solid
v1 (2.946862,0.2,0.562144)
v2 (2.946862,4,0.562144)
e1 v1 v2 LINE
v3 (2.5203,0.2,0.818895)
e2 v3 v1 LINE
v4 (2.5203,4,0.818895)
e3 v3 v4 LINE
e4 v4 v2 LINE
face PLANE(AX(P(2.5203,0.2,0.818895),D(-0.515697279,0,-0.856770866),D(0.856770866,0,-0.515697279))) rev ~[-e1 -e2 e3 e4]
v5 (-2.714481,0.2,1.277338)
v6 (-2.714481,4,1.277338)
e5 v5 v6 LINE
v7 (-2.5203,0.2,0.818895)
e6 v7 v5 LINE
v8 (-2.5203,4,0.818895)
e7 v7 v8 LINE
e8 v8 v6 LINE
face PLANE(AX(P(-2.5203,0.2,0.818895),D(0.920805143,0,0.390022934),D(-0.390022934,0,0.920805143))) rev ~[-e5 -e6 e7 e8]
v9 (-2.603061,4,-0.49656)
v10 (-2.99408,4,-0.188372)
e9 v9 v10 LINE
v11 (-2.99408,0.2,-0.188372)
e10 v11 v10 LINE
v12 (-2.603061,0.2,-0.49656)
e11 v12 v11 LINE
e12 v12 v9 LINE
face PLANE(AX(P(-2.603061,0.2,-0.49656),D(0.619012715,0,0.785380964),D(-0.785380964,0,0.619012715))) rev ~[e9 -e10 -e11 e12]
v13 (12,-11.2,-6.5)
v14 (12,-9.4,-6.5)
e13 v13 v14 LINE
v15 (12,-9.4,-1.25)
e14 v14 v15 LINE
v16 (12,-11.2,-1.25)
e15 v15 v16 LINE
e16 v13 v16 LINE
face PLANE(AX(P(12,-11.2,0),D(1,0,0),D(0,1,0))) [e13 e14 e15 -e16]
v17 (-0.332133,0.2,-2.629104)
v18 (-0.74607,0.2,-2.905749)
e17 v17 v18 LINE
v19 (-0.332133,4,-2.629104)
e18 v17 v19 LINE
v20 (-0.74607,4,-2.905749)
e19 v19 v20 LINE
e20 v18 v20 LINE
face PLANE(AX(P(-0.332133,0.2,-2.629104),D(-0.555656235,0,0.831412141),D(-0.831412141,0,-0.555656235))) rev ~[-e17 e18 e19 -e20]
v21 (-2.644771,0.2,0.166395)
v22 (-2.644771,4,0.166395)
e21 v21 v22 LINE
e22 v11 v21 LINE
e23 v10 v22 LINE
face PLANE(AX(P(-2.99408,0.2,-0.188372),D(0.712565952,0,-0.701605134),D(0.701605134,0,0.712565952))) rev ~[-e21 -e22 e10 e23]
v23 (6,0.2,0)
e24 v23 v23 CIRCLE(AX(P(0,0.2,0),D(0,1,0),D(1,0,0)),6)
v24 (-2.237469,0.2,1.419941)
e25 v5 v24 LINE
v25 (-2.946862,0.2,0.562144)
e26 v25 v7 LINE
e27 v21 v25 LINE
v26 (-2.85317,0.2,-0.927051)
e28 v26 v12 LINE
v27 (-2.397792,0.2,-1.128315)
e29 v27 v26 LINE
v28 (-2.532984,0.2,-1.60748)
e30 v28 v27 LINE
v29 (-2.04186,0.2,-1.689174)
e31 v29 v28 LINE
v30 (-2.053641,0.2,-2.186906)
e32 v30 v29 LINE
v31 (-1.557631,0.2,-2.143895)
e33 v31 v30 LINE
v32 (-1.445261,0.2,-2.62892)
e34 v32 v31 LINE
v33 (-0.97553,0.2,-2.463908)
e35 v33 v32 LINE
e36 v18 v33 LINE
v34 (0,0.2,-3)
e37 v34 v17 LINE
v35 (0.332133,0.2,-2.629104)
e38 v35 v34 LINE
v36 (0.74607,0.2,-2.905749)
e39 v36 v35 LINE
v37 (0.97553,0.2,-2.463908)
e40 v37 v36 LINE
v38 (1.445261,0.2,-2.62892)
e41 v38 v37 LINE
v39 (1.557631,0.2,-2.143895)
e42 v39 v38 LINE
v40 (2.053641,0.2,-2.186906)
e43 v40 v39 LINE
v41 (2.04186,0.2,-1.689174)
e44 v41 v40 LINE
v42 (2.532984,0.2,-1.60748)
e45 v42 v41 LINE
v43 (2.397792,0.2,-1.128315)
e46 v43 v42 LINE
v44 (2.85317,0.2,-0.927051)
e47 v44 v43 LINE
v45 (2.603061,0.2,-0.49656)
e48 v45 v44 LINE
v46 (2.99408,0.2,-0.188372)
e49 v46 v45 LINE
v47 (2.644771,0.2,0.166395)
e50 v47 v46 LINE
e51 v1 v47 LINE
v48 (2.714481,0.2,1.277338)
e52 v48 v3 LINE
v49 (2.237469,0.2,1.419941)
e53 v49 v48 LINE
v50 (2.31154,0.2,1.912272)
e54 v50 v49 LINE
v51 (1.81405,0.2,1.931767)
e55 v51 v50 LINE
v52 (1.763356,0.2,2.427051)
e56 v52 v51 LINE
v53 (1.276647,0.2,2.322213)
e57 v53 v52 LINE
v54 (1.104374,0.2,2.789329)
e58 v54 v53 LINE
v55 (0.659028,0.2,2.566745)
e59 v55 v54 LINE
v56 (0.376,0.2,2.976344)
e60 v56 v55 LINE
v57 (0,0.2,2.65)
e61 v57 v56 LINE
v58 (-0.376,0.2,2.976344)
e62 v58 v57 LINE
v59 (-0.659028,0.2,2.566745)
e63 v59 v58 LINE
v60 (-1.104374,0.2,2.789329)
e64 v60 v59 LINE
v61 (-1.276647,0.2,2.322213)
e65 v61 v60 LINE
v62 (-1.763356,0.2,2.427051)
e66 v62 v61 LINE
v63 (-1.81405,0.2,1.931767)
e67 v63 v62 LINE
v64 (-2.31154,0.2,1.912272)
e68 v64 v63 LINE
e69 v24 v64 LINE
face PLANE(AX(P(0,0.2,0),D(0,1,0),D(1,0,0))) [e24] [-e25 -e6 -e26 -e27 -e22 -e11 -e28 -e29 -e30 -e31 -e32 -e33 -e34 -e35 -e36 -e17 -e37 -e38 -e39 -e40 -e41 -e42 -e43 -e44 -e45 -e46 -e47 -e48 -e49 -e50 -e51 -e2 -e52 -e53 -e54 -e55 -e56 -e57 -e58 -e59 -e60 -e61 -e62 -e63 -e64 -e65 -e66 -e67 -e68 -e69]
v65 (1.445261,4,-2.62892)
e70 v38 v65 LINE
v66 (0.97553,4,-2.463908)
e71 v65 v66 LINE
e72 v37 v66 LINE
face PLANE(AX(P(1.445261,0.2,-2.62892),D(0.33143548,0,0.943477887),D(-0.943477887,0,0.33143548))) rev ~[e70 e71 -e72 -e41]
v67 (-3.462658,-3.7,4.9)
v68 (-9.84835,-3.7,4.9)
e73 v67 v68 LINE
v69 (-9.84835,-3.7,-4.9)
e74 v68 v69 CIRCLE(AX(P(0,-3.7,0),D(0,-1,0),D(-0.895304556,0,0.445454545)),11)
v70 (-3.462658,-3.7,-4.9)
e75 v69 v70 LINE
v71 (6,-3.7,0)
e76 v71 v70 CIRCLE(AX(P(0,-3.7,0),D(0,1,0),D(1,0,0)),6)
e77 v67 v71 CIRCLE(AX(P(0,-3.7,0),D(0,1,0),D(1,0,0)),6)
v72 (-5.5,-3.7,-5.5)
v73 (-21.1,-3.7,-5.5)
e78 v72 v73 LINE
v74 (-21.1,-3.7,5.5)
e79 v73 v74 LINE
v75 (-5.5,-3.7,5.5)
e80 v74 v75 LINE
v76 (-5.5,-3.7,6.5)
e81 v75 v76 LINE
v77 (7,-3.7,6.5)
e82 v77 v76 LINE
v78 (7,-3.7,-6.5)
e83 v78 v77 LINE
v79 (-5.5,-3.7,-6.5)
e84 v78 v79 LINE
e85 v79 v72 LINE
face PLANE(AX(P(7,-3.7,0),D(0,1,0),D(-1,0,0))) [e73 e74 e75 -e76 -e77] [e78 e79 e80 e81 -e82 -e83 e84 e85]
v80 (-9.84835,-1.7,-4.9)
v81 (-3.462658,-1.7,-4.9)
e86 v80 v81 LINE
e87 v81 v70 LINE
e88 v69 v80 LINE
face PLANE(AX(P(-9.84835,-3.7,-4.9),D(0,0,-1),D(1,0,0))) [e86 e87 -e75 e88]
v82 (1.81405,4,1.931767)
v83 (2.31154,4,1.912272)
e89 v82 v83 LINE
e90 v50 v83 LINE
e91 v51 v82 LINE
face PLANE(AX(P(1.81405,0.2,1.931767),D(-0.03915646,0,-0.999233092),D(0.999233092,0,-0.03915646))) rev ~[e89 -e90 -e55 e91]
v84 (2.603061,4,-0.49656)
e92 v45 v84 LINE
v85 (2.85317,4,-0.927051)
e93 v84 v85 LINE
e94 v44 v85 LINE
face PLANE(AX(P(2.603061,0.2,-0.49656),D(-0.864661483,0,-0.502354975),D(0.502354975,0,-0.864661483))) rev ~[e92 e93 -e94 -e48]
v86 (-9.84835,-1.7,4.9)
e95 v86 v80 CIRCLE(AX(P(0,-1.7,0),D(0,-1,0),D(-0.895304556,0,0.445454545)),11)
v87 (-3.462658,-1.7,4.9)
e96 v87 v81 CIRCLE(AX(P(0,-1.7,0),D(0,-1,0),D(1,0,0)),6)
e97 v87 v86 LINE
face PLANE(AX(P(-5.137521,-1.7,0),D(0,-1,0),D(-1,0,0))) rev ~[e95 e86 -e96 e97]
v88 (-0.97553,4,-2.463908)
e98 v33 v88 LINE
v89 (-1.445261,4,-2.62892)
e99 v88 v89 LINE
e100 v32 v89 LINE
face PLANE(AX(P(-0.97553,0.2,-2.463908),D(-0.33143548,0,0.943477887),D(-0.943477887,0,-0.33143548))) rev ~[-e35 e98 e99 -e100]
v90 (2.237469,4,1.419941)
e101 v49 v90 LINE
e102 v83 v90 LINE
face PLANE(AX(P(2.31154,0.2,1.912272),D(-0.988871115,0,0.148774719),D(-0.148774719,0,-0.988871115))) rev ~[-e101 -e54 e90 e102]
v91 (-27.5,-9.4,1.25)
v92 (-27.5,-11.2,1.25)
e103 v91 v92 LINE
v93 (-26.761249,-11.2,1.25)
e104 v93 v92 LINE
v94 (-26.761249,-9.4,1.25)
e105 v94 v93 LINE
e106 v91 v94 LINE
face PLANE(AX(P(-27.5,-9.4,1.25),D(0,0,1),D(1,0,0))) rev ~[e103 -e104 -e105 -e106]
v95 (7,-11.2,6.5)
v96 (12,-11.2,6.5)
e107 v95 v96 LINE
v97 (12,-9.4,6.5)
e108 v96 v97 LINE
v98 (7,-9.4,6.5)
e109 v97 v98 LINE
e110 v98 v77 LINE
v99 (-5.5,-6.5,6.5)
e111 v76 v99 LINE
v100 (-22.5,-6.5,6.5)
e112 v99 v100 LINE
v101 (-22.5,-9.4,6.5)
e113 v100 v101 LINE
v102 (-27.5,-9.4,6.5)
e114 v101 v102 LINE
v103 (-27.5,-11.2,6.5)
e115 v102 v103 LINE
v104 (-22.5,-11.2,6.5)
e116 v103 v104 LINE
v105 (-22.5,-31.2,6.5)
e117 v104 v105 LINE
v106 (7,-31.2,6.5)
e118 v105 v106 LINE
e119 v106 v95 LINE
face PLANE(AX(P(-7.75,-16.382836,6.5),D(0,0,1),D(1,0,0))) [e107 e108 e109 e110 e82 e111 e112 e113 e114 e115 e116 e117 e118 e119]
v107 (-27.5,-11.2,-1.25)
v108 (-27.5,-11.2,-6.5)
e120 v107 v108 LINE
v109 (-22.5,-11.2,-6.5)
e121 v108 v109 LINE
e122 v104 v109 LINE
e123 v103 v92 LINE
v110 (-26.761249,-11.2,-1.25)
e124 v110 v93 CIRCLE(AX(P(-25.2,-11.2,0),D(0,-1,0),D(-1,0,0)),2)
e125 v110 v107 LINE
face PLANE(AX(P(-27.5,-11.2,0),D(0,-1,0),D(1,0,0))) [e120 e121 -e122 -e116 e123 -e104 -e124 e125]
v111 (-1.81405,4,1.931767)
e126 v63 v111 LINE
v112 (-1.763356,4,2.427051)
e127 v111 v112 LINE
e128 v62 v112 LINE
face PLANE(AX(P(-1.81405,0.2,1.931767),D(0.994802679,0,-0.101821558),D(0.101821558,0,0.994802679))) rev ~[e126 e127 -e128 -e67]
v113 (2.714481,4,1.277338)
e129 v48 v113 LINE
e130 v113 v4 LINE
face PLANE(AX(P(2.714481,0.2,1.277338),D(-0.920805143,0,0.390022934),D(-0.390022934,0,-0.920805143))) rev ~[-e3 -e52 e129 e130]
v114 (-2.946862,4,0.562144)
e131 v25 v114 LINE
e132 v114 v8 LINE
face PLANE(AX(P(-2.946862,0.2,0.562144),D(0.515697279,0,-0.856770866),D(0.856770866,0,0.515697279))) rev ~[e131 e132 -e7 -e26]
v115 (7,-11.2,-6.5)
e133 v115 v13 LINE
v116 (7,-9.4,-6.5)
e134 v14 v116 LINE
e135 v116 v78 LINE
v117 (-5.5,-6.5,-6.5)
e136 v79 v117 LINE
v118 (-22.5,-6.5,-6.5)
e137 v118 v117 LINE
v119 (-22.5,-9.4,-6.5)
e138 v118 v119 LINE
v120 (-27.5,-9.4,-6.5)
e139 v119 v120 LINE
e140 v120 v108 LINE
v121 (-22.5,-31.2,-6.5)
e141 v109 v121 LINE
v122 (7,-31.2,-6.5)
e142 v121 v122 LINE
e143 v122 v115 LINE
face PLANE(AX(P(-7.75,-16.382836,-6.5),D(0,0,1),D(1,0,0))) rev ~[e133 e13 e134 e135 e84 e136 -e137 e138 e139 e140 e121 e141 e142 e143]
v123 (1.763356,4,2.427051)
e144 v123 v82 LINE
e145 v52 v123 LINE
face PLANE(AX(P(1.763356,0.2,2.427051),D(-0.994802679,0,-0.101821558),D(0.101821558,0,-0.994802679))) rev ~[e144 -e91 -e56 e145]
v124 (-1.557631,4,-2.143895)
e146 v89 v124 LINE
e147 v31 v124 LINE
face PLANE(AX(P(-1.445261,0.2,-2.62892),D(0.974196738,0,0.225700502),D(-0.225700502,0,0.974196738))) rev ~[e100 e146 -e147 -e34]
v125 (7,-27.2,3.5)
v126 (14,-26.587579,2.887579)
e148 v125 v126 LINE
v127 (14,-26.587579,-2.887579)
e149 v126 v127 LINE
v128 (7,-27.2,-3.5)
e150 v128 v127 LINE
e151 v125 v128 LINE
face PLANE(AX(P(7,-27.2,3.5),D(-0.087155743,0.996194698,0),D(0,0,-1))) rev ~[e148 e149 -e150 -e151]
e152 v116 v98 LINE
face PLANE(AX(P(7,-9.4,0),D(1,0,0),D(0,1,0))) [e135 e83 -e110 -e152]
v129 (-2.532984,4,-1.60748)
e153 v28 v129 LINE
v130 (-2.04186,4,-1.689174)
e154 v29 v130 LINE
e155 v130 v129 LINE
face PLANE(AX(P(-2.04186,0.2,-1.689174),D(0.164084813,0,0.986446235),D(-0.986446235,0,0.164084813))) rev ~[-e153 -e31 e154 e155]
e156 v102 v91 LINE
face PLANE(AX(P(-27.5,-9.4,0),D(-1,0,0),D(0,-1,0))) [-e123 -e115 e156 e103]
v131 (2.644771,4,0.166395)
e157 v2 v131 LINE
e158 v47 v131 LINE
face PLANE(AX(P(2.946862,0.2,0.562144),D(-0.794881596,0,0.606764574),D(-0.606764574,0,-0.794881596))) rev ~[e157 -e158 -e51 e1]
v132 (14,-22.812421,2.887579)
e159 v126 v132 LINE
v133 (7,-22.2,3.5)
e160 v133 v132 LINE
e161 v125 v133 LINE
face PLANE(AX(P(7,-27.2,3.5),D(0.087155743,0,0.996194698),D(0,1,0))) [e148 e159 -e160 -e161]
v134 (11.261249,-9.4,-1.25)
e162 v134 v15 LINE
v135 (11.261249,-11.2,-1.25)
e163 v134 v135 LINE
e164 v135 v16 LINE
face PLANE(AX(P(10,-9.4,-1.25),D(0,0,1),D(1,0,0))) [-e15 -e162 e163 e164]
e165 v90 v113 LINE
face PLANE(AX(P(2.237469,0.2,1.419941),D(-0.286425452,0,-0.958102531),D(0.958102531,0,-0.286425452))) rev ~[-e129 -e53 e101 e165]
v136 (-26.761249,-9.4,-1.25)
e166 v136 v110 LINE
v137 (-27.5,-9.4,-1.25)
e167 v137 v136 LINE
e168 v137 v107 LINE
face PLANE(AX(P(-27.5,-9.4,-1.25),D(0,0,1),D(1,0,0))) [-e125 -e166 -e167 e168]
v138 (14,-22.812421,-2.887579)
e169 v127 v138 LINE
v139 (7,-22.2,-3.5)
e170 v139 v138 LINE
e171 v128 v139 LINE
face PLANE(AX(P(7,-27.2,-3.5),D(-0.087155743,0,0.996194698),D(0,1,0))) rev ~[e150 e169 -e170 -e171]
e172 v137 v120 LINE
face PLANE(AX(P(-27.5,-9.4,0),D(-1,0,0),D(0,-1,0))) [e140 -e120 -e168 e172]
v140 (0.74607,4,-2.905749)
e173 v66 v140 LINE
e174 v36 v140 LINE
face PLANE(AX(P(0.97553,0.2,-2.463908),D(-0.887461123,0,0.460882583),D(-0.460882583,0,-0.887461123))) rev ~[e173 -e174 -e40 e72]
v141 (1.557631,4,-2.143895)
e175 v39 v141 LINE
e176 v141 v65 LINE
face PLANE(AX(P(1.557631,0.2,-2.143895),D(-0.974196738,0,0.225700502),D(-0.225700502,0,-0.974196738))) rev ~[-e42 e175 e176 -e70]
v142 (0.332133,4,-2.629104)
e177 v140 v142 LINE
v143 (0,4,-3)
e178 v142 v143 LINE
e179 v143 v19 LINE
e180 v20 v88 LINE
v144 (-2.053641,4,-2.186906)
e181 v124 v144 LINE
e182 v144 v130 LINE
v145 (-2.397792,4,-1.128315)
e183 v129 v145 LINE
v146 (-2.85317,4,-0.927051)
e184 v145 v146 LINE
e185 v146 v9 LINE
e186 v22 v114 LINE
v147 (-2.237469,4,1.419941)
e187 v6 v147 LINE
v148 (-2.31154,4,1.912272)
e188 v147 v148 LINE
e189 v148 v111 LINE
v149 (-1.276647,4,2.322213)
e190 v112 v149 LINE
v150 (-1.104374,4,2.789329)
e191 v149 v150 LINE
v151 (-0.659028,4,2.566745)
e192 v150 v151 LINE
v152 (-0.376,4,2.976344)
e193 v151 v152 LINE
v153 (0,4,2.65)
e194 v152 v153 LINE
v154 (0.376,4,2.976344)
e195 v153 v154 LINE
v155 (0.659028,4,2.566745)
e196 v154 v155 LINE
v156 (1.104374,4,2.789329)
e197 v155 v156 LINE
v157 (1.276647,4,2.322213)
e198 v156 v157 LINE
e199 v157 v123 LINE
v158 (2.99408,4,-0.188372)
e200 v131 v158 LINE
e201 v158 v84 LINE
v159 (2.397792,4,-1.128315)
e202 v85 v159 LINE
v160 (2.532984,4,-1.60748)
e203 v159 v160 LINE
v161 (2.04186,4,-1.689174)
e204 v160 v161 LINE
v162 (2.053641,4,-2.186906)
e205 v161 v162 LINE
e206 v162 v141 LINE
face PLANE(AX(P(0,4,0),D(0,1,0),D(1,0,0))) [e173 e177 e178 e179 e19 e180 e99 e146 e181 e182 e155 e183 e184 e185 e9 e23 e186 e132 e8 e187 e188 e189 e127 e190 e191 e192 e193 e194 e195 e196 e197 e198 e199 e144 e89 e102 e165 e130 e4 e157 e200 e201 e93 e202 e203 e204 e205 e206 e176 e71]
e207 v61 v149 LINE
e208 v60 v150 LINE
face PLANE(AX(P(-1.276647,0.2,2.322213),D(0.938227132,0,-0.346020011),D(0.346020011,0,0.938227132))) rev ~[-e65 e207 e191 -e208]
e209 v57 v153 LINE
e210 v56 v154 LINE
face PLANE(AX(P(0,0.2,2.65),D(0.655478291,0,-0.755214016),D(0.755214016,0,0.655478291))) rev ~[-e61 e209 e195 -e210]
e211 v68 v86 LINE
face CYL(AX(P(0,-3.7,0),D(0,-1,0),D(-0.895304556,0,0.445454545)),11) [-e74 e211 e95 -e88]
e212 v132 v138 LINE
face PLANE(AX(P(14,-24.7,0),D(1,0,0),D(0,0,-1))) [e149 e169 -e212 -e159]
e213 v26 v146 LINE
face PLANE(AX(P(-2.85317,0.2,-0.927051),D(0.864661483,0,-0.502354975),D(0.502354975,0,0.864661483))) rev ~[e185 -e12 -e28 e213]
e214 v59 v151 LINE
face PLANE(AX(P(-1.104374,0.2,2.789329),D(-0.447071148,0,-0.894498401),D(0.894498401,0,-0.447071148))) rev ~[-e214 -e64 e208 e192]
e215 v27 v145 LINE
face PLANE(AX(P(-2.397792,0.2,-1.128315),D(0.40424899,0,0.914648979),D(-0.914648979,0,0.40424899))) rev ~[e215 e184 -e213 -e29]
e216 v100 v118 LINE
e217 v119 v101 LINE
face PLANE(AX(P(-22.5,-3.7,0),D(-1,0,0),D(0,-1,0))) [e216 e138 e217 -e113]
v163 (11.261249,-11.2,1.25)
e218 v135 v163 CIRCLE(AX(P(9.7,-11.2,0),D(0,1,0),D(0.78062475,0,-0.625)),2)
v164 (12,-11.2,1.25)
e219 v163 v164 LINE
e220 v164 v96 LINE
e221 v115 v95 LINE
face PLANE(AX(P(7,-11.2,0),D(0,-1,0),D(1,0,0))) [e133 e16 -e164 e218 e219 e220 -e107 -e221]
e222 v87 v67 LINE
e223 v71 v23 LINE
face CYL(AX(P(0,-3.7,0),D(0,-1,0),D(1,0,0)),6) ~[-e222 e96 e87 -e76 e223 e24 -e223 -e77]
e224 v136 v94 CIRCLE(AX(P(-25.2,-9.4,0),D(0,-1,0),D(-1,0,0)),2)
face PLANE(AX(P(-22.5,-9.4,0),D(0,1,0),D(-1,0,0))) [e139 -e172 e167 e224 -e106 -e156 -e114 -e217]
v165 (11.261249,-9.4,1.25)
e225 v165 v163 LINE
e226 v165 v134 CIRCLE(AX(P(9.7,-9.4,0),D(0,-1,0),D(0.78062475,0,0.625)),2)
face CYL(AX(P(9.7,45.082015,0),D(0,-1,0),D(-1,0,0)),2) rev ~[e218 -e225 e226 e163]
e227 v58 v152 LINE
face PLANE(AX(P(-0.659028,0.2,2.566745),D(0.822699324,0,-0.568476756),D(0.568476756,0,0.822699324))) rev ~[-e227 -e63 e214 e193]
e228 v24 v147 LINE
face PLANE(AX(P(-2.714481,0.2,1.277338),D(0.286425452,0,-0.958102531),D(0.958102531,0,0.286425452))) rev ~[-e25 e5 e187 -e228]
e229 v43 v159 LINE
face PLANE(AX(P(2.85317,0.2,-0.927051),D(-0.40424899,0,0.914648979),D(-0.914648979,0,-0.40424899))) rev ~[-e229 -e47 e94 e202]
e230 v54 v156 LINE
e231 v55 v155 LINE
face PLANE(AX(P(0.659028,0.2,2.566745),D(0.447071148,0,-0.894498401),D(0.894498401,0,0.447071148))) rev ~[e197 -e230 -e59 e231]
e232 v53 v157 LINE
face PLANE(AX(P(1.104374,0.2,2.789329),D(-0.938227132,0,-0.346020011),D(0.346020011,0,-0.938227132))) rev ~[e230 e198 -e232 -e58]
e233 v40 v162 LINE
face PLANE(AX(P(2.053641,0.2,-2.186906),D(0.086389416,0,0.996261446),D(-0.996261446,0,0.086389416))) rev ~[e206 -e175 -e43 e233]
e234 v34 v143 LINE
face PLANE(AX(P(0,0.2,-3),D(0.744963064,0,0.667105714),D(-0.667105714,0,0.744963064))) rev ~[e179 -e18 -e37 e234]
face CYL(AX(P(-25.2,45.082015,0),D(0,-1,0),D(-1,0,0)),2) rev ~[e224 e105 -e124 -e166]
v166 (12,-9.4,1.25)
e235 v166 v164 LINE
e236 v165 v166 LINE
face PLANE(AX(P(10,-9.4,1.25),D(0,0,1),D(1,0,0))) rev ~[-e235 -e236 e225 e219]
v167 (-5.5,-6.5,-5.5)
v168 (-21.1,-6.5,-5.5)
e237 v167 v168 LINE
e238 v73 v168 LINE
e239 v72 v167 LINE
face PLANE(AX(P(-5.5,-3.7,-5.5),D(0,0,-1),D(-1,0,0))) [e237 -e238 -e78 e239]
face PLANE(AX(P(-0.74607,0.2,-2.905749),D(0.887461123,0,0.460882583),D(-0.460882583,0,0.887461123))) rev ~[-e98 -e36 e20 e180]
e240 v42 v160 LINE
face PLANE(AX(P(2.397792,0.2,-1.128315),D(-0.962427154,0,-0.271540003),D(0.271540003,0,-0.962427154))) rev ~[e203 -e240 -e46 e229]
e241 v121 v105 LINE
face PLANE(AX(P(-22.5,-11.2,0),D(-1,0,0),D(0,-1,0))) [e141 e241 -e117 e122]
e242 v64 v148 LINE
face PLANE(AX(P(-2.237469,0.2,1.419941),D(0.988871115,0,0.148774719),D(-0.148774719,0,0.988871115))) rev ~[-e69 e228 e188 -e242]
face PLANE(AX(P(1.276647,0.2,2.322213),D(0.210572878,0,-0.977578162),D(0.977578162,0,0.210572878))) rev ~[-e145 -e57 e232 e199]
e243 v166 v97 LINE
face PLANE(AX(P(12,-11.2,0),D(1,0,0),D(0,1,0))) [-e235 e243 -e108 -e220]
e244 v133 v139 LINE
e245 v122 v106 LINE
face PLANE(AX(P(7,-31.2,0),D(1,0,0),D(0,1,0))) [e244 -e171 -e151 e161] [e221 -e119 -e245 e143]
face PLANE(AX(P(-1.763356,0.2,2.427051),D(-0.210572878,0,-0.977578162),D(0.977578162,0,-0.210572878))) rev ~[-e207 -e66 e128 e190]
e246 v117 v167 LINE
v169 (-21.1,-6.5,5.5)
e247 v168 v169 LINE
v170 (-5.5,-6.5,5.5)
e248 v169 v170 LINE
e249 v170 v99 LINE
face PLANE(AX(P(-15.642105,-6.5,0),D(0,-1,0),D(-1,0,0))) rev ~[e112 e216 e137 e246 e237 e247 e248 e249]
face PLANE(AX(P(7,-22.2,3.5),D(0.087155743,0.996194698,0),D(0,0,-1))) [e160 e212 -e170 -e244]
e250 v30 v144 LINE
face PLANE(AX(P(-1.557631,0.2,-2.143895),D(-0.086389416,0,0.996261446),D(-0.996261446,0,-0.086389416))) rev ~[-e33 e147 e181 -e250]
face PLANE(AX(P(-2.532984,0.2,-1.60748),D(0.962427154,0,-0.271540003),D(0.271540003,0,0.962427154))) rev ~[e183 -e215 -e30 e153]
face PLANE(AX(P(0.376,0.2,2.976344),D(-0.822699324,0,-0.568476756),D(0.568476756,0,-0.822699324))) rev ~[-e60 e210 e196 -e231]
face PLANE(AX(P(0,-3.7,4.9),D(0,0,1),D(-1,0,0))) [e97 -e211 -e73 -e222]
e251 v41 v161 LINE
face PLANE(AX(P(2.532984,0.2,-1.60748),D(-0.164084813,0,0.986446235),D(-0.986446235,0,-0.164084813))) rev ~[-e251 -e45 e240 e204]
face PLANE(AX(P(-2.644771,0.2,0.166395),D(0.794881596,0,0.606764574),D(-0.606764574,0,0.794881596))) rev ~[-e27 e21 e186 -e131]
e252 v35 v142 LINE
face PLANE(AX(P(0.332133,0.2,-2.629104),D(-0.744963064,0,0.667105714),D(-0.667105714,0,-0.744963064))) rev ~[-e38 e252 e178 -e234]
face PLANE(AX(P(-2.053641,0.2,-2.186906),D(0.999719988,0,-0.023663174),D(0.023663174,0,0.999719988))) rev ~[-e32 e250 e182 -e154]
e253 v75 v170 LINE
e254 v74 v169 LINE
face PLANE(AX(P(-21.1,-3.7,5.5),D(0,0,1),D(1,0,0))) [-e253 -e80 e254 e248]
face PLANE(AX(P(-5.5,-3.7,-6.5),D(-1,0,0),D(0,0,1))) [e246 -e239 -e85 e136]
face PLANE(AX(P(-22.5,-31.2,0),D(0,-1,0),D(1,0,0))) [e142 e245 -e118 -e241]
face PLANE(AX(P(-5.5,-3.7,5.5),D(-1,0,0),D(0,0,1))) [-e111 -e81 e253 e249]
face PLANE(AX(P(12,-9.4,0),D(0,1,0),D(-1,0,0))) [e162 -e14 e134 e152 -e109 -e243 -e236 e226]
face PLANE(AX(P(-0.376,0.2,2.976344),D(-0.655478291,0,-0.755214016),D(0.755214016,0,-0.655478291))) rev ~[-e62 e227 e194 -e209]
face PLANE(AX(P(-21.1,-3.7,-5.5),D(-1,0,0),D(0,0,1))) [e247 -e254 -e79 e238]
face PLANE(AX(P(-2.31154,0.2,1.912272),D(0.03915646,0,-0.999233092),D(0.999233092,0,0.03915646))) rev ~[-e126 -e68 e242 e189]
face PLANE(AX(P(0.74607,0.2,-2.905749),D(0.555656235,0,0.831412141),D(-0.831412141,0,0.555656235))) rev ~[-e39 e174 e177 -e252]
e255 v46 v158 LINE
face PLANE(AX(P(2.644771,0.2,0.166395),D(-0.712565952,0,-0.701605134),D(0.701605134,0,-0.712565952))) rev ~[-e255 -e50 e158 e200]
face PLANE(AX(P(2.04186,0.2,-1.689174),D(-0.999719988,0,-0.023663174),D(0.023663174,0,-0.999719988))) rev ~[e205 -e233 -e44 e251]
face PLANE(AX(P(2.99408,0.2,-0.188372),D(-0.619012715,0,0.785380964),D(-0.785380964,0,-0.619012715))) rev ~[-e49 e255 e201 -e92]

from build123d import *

# Parameters (mm, degrees)
BOSS_EXTRU_1_DEPTH            = 6.5
BOSS_EXTRU_1_DEPTH_BACK       = 6.5
ENL_V_MAT_EXTRU_1_DEPTH       = 2.8
ESQUISSE3_R                   = 6
BOSS_EXTRU_2_DEPTH            = 3.9
BOSS_EXTRU_3_DEPTH            = 3.8
BOSS_EXTRU_4_DEPTH            = 2
DIAM_TRE_DU_PER_AGE_4_0_4_1_D = 4
DIAM_TRE_DU_PER_AGE_4_0_4_2_D = 4
ESQUISSE10_W                  = 7
ESQUISSE10_H                  = 5
BOSS_EXTRU_5_DEPTH            = 7
D_POUILLE1_ANGLE              = 5
ESQUISSE11_W                  = 2
ESQUISSE11_H                  = 2.5
ENL_V_MAT_EXTRU_2_DEPTH       = 36.689494253
ENL_V_MAT_EXTRU_3_REACH       = 37.689
ESQUISSE12_W                  = 2
ESQUISSE12_H                  = 2.5


with BuildPart() as part:
    # Esquisse1 → Boss.-Extru.1 (new, two sides: drawn at the far end of the back side and taken through both)
    with BuildSketch(Plane.XY.offset(-BOSS_EXTRU_1_DEPTH_BACK)):
        Polygon((-22.5, -11.2), (-22.5, -31.2), (7, -31.2), (7, -11.2), (12, -11.2), (12, -9.4), (7, -9.4), (7, -3.7), (-22.5, -3.7), (-22.5, -9.4), (-27.5, -9.4), (-27.5, -11.2), align=None)
    extrude(amount=BOSS_EXTRU_1_DEPTH + BOSS_EXTRU_1_DEPTH_BACK)

    # Esquisse2 → Enlèv. mat.-Extru.1 (cut)
    with BuildSketch(Plane(origin=(0, -3.7, 0), x_dir=(1, 0, 0), z_dir=(0, 1, 0))):
        Polygon((-5.5, 6.5), (-5.5, 5.5), (-21.1, 5.5), (-21.1, -5.5), (-5.5, -5.5), (-5.5, -6.5), (-22.5, -6.5), (-22.5, 6.5), align=None)
    extrude(amount=-ENL_V_MAT_EXTRU_1_DEPTH, mode=Mode.SUBTRACT)

    # Esquisse3 → Boss.-Extru.2 (add)
    with BuildSketch(Plane(origin=(0, -3.7, 0), x_dir=(1, 0, 0), z_dir=(0, 1, 0))):
        Circle(ESQUISSE3_R)
    extrude(amount=BOSS_EXTRU_2_DEPTH)

    # Esquisse4 → Boss.-Extru.3 (add)
    with BuildSketch(Plane(origin=(0, 0.2, 0), x_dir=(1, 0, 0), z_dir=(0, 1, 0))):
        Polygon((0.332133069, 2.629103958), (0, 3), (-0.332133069, 2.629103958), (-0.746069661, 2.905749483), (-0.975530065, 2.463907688), (-1.445261022, 2.62892004), (-1.557630919, 2.143895035), (-2.053641318, 2.186905882), (-2.041860093, 1.689173573), (-2.532983777, 1.607480385), (-2.397791689, 1.128315123), (-2.853169549, 0.927050983), (-2.603061214, 0.496560484), (-2.994080185, 0.188371559), (-2.64477083, -0.166394877), (-2.946861752, -0.562143944), (-2.520299768, -0.818895035), (-2.714481157, -1.277337875), (-2.237469003, -1.419941007), (-2.311539728, -1.912271969), (-1.814049831, -1.931766863), (-1.763355757, -2.427050983), (-1.276647236, -2.322212702), (-1.104373658, -2.789329458), (-0.659028201, -2.566745377), (-0.375999701, -2.976344104), (0, -2.65), (0.375999701, -2.976344104), (0.659028201, -2.566745377), (1.104373658, -2.789329458), (1.276647236, -2.322212702), (1.763355757, -2.427050983), (1.814049831, -1.931766863), (2.311539728, -1.912271969), (2.237469003, -1.419941007), (2.714481157, -1.277337875), (2.520299768, -0.818895035), (2.946861752, -0.562143944), (2.64477083, -0.166394877), (2.994080185, 0.188371559), (2.603061214, 0.496560484), (2.853169549, 0.927050983), (2.397791689, 1.128315123), (2.532983777, 1.607480385), (2.041860093, 1.689173573), (2.053641318, 2.186905882), (1.557630919, 2.143895035), (1.445261022, 2.62892004), (0.975530065, 2.463907688), (0.746069661, 2.905749483), align=None)
    extrude(amount=BOSS_EXTRU_3_DEPTH)

    # Esquisse5 → Boss.-Extru.4 (add)
    with BuildSketch(Plane(origin=(0, -3.7, 0), x_dir=(1, 0, 0), z_dir=(0, 1, 0))):
        with BuildLine():
            Line((-9.848350116, 4.9), (0, 4.9))
            Line((0, 4.9), (0, -4.9))
            Line((0, -4.9), (-9.848350116, -4.9))
            ThreePointArc((-9.848350116, -4.9), (-11, 0), (-9.848350116, 4.9))
        make_face()
    extrude(amount=BOSS_EXTRU_4_DEPTH)

    # Diamètre du perçage Ø4.0 (4)1 (through all)
    with Locations(Plane(origin=(0, -9.4, 0), x_dir=(1, 0, 0), z_dir=(0, 1, 0))):
        with Locations((-25.2, 0)):
            Hole(DIAM_TRE_DU_PER_AGE_4_0_4_1_D / 2)

    # Diamètre du perçage Ø4.0 (4)2 (through all)
    with Locations(Plane(origin=(0, -9.4, 0), x_dir=(1, 0, 0), z_dir=(0, 1, 0))):
        with Locations((9.7, 0)):
            Hole(DIAM_TRE_DU_PER_AGE_4_0_4_2_D / 2)

    # Esquisse10 → Boss.-Extru.5 (add)
    with BuildSketch(Plane(origin=(7, 0, 0), x_dir=(0, 0, -1), z_dir=(1, 0, 0))):
        with Locations((0, -24.7)):
            Rectangle(ESQUISSE10_W, ESQUISSE10_H)
    extrude(amount=BOSS_EXTRU_5_DEPTH)

    # Dépouille1
    d_pouille1_faces = [part.faces().sort_by_distance(p)[0] for p in [
        (10.5, -27.2, 0),
        (10.5, -24.7, -3.5),
        (10.5, -22.2, 0),
        (10.5, -24.7, 3.5),
    ]]
    draft(d_pouille1_faces, Plane(origin=(7, -11.2, -6.5), x_dir=(0, 1, 0), z_dir=(1, 0, 0)), D_POUILLE1_ANGLE)

    # Esquisse11 → Enlèv. mat.-Extru.2 (cut, through all)
    with BuildSketch(Plane(origin=(0, -9.4, 0), x_dir=(1, 0, 0), z_dir=(0, 1, 0))):
        with Locations((-26.5, 0)):
            Rectangle(ESQUISSE11_W, ESQUISSE11_H)
    extrude(amount=-ENL_V_MAT_EXTRU_2_DEPTH, mode=Mode.SUBTRACT)

    # Esquisse12 → Enlèv. mat.-Extru.3 (cut, up to next)
    with BuildSketch(Plane(origin=(0, -9.4, 0), x_dir=(1, 0, 0), z_dir=(0, 1, 0)), mode=Mode.PRIVATE) as enl_v_mat_extru_3_sk1:
        with Locations((11, 0)):
            Rectangle(ESQUISSE12_W, ESQUISSE12_H)
    enl_v_mat_extru_3_tool1 = extrude(enl_v_mat_extru_3_sk1.sketch, amount=-ENL_V_MAT_EXTRU_3_REACH, mode=Mode.PRIVATE) & part.part
    add(enl_v_mat_extru_3_tool1.solids().sort_by_distance((11, -9.4, 0))[0], mode=Mode.SUBTRACT)


solid = part.part
